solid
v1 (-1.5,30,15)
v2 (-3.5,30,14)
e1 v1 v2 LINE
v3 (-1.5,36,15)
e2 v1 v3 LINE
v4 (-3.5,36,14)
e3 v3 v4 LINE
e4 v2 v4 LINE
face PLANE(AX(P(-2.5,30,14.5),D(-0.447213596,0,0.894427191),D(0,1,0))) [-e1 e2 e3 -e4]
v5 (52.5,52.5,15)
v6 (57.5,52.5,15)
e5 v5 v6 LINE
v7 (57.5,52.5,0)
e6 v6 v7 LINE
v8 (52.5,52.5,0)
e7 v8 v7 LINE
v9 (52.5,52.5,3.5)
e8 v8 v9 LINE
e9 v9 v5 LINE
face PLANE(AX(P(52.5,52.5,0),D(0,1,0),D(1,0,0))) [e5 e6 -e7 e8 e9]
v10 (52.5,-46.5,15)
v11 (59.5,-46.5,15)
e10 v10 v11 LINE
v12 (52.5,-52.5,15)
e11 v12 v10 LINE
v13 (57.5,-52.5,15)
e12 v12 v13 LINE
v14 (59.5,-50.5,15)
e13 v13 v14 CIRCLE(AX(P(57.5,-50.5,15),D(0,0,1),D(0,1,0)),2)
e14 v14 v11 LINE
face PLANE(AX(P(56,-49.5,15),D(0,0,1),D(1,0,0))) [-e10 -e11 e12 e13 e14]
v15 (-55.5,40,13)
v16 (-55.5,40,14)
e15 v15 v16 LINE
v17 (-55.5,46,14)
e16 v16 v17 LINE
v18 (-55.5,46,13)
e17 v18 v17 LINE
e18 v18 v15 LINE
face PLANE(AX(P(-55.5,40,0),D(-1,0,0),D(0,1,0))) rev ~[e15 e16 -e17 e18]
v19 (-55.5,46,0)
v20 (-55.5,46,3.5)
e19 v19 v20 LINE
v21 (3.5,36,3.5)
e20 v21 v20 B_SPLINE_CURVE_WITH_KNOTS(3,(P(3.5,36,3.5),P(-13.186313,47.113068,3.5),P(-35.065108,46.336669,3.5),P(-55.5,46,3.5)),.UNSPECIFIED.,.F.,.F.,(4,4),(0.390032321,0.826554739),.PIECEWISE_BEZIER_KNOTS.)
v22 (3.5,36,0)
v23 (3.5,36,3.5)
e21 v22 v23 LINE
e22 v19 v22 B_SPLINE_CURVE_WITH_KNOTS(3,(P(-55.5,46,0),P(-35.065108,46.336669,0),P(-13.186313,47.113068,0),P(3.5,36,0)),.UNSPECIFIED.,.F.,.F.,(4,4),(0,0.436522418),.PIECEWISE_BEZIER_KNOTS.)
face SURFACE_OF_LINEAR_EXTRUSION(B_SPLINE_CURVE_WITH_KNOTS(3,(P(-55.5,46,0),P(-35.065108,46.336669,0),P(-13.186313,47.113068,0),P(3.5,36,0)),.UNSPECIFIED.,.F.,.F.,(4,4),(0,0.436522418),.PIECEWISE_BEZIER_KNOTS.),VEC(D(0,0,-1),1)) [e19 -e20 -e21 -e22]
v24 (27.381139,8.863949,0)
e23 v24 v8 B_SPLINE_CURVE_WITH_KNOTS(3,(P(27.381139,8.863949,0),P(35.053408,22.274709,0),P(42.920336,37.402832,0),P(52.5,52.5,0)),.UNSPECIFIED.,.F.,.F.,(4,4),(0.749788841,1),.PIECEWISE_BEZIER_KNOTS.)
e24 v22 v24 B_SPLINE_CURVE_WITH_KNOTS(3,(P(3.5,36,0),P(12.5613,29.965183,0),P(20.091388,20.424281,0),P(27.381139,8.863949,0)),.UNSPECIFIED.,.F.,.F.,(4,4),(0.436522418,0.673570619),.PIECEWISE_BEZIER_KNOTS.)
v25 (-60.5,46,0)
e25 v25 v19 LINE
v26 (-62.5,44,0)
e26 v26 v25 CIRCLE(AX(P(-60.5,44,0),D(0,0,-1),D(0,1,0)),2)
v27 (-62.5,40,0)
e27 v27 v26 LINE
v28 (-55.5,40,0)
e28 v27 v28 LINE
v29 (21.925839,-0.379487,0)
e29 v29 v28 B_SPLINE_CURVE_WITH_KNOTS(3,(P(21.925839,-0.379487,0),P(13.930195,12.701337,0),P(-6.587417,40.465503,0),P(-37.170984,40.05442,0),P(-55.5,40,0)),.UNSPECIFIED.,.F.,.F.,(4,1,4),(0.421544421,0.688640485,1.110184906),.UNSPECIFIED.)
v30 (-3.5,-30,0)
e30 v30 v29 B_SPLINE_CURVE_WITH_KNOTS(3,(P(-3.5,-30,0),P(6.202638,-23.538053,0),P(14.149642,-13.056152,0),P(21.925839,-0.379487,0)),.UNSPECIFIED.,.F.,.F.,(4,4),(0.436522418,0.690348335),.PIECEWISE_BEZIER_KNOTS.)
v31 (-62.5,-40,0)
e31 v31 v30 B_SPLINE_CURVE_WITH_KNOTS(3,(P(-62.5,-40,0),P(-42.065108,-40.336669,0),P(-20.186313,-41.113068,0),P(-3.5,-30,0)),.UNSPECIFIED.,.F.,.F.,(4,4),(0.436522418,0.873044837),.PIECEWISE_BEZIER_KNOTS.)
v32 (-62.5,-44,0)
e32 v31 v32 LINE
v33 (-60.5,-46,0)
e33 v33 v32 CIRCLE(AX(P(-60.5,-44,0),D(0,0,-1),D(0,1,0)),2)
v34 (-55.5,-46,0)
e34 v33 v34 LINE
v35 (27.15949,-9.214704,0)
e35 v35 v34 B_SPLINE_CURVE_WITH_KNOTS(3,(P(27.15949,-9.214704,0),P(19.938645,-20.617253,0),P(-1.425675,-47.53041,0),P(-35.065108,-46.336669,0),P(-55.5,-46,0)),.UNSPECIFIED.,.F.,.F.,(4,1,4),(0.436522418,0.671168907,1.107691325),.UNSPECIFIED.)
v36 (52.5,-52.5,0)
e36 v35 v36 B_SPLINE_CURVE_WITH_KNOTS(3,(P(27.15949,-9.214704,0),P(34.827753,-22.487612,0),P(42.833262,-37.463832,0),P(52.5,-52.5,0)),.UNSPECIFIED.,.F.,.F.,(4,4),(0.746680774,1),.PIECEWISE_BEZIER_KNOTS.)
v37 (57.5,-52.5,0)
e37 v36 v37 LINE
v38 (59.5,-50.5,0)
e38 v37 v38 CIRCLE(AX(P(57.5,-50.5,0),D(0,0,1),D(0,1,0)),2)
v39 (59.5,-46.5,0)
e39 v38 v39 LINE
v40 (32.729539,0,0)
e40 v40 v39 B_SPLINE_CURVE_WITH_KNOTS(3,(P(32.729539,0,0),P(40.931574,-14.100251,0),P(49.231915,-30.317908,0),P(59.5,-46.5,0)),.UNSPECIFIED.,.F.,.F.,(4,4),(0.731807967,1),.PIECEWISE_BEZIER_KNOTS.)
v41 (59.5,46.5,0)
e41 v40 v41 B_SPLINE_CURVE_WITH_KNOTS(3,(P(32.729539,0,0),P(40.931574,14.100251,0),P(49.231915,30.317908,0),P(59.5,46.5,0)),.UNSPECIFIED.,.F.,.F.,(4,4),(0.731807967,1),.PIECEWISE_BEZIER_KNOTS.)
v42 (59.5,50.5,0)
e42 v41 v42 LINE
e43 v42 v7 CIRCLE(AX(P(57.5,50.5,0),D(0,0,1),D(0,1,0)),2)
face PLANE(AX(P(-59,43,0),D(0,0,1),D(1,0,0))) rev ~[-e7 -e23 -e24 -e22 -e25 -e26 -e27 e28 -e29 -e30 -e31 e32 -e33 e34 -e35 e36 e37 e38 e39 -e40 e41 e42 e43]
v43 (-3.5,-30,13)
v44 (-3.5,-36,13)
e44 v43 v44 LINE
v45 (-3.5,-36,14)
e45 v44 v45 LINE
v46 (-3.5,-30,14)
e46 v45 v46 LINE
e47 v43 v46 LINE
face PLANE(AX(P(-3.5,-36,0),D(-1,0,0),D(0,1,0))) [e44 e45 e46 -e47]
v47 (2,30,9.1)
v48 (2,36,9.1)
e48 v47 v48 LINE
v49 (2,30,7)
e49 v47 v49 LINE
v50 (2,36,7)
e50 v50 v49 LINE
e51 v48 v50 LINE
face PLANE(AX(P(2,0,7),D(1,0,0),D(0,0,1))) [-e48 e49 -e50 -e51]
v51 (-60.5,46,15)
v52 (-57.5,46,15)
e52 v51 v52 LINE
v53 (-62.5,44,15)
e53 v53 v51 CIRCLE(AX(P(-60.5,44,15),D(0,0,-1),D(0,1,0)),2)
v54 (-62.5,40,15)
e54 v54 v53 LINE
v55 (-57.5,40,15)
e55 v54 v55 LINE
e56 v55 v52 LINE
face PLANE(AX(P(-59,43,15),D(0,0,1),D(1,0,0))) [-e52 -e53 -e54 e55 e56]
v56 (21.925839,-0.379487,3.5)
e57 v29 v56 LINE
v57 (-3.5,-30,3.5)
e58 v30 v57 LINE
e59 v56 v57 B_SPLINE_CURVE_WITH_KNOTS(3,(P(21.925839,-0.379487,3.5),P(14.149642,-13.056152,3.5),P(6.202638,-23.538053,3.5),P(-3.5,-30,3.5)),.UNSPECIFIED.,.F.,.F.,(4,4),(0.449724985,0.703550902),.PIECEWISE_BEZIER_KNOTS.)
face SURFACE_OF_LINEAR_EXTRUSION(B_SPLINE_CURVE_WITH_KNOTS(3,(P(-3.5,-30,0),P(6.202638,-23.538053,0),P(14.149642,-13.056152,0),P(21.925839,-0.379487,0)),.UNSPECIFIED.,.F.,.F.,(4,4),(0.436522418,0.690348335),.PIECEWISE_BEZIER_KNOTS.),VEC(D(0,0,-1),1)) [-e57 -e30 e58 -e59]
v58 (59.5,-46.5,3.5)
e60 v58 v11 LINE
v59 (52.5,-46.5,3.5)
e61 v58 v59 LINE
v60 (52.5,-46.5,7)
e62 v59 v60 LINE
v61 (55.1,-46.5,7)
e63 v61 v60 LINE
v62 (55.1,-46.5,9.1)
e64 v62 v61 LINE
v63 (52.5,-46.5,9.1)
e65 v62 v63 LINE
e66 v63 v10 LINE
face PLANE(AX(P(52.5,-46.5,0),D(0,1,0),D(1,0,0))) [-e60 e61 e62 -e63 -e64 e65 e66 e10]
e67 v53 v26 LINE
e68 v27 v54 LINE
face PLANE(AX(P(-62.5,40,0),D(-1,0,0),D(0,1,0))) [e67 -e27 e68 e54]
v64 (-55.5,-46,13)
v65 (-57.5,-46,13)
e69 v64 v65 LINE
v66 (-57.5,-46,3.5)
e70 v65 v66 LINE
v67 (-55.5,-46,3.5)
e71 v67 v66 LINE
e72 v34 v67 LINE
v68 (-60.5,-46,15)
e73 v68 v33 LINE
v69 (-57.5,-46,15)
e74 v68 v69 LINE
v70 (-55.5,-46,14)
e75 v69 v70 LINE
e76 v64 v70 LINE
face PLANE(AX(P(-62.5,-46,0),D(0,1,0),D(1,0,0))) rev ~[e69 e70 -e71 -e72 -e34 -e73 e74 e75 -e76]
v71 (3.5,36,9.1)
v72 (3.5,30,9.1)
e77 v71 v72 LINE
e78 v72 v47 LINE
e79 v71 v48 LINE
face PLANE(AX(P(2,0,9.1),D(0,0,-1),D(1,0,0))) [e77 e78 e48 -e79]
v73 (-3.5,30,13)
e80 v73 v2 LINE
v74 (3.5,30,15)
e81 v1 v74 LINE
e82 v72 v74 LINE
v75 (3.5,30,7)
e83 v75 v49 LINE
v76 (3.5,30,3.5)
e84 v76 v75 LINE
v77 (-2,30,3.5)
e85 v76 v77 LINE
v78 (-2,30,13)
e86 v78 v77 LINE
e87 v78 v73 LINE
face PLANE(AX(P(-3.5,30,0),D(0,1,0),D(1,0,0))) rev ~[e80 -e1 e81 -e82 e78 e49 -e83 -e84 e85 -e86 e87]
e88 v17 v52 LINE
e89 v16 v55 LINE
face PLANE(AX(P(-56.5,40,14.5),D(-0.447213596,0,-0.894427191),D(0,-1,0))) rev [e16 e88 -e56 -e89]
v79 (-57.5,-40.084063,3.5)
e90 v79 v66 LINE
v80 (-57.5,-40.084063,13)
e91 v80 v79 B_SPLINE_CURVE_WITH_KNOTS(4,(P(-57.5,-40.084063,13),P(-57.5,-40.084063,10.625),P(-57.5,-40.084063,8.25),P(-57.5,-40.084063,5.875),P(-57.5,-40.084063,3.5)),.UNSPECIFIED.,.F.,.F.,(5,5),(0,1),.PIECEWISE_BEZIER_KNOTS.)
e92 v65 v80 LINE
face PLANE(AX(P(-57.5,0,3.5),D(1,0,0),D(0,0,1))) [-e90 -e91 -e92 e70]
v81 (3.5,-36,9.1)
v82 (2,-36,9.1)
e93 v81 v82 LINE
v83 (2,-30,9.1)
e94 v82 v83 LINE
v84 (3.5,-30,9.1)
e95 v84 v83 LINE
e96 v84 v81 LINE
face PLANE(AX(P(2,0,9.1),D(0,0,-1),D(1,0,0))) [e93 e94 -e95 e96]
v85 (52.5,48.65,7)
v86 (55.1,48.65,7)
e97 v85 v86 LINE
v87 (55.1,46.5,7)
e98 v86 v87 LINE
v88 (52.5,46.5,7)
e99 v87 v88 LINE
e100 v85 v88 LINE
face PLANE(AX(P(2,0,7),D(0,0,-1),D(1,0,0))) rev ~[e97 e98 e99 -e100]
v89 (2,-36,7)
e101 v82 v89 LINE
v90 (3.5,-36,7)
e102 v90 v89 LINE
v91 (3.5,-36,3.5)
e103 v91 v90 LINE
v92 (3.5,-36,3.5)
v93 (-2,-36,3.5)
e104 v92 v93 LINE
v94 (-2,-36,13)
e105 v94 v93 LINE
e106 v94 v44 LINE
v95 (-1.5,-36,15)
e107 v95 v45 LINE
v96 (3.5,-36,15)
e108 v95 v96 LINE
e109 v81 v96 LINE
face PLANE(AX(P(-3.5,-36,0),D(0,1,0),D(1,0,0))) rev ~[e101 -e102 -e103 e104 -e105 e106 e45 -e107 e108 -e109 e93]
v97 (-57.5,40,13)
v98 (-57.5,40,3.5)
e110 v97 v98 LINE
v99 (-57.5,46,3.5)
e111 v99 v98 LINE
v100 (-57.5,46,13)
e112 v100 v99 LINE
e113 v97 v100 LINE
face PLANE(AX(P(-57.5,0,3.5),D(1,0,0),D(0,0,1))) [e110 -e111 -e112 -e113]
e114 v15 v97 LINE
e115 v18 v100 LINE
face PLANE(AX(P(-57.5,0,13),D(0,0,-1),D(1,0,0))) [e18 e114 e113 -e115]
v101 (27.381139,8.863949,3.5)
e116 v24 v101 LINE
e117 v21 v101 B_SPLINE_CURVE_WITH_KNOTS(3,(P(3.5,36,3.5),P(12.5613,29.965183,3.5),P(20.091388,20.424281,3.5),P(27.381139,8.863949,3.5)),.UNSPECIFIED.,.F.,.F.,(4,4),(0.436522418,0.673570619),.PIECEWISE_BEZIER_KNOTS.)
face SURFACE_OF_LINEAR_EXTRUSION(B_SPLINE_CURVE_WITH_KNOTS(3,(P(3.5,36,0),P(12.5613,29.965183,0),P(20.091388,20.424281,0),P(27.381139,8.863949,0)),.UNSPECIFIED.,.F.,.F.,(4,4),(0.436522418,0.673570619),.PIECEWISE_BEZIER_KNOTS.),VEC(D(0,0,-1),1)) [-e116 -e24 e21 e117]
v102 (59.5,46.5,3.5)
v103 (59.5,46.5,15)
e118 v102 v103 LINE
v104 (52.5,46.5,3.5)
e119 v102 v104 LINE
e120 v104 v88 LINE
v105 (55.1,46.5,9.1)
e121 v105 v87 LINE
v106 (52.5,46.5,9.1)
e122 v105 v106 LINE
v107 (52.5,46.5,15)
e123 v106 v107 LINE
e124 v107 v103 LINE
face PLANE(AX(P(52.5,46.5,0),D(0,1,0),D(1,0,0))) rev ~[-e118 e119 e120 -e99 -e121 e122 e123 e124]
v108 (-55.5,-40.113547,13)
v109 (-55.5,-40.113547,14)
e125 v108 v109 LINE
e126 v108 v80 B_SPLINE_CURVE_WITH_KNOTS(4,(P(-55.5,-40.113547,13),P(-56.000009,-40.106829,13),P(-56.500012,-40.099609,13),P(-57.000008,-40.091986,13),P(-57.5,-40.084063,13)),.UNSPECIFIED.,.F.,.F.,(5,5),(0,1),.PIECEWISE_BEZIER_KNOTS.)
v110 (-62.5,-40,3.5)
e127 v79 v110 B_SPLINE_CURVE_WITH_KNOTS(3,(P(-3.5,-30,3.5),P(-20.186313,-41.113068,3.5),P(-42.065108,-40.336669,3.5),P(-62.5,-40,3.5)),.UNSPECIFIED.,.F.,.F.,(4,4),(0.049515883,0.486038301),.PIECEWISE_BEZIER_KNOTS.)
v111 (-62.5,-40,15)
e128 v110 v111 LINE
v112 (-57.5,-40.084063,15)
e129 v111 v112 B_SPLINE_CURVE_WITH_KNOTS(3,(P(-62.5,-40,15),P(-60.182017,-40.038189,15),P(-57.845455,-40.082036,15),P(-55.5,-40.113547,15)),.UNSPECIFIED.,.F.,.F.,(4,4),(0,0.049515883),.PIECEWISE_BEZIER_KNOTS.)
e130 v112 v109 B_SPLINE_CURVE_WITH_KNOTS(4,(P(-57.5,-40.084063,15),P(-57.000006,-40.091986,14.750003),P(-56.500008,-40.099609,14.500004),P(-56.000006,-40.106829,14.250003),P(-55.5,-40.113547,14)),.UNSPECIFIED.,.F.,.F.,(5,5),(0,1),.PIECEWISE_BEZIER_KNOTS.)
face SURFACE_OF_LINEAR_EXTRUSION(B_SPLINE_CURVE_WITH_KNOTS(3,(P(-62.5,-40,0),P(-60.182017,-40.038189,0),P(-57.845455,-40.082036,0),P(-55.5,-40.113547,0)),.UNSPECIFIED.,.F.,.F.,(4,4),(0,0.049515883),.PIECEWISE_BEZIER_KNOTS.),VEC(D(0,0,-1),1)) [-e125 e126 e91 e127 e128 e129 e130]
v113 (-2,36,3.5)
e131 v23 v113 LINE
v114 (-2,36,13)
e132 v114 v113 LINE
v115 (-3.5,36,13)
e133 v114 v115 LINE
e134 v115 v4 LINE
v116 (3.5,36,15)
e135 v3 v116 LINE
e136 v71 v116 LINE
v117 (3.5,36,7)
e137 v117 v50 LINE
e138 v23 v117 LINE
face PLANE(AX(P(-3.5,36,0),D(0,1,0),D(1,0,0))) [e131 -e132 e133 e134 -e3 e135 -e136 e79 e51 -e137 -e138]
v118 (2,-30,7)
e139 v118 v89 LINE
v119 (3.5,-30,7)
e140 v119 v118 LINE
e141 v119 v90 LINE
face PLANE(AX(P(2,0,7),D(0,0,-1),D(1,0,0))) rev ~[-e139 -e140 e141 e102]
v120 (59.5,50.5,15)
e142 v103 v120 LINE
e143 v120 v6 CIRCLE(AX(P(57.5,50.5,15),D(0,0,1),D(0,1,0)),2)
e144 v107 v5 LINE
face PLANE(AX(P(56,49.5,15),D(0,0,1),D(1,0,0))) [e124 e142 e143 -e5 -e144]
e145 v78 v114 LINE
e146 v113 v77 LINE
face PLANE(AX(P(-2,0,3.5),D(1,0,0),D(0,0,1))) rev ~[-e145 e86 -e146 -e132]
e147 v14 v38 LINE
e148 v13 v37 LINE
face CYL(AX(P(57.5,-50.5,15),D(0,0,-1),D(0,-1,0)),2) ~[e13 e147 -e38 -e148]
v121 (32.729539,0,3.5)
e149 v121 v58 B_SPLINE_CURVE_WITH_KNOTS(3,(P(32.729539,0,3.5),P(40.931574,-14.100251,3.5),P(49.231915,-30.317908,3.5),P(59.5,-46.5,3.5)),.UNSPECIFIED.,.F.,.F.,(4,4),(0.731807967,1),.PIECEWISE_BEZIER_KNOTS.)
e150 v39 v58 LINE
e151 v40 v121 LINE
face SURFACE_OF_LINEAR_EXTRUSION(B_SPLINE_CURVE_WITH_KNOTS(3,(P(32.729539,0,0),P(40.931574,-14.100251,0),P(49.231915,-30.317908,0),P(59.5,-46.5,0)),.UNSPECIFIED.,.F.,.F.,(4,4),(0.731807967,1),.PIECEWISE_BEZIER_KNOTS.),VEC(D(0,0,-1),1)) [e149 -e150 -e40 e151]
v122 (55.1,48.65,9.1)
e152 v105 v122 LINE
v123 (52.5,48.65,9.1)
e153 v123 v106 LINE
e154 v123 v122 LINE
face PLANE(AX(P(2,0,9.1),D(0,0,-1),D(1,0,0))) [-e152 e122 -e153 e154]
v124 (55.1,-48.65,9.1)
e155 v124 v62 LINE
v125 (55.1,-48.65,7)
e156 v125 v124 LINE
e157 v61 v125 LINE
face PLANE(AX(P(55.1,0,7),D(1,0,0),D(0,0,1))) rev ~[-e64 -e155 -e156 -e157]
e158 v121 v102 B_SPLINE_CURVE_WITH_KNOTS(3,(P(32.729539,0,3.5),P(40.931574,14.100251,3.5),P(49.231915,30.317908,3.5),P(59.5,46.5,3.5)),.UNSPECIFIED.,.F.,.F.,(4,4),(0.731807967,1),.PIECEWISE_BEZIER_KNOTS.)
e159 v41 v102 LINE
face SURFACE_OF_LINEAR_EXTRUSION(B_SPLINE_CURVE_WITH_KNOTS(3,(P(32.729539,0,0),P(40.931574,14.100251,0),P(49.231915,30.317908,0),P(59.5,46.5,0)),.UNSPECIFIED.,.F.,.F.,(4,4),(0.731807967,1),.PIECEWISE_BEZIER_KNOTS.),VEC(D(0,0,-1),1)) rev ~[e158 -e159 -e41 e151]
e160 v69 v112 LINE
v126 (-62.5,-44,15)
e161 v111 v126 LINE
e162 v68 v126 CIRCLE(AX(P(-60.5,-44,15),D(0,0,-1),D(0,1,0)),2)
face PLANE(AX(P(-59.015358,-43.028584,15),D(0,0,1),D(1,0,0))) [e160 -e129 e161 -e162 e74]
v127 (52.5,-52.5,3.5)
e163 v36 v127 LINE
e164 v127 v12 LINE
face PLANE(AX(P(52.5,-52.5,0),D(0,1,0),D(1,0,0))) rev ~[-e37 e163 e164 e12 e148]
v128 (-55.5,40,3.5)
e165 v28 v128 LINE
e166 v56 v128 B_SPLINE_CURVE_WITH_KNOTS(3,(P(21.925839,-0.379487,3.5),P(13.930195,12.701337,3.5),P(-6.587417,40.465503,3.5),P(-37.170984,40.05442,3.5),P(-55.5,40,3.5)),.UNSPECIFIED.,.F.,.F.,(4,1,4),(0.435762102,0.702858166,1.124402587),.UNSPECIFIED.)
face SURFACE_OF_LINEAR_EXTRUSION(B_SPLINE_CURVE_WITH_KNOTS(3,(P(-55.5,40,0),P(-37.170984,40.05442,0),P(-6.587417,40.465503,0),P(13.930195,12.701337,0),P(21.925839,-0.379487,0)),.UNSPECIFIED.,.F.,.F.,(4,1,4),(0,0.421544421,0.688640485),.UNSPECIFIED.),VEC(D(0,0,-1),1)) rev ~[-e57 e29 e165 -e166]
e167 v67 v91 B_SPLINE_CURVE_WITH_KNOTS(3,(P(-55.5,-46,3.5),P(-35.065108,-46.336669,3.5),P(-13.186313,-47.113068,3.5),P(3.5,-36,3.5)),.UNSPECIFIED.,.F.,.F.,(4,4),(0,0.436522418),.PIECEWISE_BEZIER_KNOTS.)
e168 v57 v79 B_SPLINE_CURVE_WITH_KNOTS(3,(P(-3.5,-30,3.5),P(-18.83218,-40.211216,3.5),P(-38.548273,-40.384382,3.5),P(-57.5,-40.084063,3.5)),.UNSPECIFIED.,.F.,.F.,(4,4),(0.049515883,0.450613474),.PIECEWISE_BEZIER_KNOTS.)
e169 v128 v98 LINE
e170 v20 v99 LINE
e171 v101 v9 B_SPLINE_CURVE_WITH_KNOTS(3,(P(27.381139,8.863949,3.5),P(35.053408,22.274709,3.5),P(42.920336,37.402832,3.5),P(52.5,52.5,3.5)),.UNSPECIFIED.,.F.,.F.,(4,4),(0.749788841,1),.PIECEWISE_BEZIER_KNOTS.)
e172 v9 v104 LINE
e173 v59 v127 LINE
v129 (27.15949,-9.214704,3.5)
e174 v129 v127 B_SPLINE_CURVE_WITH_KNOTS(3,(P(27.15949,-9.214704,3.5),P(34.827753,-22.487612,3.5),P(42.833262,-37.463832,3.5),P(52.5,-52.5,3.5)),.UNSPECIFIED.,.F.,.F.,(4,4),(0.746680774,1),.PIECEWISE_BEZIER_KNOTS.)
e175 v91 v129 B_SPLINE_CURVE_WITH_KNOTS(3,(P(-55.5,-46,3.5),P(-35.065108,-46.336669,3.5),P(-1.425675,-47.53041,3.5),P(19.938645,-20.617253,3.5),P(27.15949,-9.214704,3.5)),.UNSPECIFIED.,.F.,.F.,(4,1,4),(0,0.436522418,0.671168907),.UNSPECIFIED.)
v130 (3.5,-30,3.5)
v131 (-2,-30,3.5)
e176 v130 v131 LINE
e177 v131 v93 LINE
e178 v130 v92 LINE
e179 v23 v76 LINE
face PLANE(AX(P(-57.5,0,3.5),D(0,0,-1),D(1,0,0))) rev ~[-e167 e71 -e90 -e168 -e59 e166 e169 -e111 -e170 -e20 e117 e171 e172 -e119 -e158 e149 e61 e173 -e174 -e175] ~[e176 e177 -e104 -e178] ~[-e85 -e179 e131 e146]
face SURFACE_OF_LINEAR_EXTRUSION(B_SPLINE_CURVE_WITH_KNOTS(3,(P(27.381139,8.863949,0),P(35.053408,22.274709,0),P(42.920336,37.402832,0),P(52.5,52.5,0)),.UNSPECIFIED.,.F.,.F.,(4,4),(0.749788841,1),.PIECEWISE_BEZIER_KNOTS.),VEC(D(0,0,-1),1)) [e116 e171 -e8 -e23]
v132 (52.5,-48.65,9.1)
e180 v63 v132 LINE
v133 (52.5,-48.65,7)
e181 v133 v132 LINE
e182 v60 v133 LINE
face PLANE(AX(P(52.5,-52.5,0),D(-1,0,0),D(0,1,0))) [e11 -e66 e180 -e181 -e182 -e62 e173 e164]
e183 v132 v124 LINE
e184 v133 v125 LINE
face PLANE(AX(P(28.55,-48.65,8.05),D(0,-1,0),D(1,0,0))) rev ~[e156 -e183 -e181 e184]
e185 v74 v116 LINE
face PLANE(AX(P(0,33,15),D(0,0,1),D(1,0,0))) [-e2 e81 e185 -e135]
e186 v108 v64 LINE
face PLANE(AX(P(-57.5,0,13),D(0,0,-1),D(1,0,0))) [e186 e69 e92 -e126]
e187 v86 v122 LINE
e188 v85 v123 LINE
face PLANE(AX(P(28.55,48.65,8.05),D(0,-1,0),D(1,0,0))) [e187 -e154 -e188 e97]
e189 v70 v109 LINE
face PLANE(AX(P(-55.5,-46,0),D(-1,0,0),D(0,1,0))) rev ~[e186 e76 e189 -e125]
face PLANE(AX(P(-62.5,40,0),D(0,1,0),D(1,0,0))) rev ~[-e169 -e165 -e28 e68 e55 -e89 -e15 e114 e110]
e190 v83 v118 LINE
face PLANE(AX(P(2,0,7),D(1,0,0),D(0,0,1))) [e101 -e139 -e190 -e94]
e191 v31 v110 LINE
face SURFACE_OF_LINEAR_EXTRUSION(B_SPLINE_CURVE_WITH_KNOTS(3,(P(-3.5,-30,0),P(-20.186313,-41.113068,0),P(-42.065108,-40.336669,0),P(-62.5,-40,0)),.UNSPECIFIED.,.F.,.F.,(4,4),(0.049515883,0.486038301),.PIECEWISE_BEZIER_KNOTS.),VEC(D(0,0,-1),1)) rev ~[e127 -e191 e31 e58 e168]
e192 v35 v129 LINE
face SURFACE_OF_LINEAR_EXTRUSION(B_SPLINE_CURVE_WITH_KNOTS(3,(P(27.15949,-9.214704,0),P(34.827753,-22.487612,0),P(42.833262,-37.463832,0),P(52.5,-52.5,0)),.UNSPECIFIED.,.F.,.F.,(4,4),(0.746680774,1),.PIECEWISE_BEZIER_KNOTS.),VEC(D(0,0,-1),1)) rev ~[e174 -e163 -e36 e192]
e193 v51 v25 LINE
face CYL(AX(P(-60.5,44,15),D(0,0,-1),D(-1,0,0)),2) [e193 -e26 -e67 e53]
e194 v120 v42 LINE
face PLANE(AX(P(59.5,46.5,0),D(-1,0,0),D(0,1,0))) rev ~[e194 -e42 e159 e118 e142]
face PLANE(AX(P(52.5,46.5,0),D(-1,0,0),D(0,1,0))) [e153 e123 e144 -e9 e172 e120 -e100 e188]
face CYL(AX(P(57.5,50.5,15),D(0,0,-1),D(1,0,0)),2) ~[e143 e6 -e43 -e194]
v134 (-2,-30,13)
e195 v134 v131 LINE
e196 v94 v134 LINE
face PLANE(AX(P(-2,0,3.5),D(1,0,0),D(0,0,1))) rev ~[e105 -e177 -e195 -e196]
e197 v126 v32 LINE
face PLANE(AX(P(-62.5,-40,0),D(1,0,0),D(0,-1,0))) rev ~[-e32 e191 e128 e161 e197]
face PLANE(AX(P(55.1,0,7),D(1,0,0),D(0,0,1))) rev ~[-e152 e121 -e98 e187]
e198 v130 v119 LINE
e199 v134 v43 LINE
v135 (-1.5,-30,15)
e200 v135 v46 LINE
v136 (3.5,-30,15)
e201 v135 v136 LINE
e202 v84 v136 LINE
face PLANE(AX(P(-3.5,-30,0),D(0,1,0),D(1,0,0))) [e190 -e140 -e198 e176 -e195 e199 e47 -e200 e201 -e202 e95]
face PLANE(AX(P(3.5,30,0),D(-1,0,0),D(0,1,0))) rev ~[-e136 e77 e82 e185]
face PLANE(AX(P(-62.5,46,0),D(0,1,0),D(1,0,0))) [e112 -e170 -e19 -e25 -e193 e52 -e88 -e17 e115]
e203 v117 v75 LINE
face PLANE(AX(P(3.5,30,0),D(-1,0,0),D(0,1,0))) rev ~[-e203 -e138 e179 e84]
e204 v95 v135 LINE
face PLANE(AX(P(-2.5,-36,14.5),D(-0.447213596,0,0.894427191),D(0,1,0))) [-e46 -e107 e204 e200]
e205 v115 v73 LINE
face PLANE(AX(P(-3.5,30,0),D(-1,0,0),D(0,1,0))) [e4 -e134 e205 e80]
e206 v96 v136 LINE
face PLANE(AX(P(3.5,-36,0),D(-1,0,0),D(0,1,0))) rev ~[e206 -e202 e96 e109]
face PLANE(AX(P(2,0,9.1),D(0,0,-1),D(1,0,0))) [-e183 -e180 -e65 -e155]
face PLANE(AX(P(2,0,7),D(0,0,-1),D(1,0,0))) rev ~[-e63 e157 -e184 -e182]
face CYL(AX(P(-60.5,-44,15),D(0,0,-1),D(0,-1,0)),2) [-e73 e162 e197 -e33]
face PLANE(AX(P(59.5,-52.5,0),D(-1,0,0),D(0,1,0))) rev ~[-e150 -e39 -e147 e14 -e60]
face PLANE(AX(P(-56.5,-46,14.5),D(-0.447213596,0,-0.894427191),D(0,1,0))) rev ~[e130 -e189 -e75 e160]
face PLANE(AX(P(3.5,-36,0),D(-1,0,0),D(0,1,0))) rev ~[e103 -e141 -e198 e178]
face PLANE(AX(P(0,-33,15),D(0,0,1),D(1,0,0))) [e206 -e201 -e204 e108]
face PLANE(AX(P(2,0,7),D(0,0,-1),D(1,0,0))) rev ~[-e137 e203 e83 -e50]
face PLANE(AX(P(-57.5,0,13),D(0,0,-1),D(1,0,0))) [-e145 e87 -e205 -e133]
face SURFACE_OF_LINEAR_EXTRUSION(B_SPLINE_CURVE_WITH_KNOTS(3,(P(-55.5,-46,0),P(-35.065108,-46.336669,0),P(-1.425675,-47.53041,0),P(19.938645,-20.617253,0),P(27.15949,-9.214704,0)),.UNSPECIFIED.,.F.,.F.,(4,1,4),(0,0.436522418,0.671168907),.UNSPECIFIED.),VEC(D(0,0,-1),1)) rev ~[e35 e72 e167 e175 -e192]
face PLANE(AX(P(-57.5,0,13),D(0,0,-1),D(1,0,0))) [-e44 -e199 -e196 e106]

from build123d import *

# Parameters (mm, degrees)
F0_W       = 7
F0_H       = 6
F1_DEPTH   = 3.5
F2_DEPTH   = 15
F3_W       = 55.5
F3_H       = 9.5
F4_DEPTH   = 100
F3_W_2     = 53.1
F3_H_2     = 2.1
F5_DEPTH   = 48.65
F6_SIZE2   = 1
F6_SIZE    = 2
F6_2_SIZE2 = 1
F6_2_SIZE  = 2
F6_3_SIZE2 = 1
F6_3_SIZE  = 2
F7_SIZE2   = 2
F7_SIZE    = 1
F8_R       = 2


with BuildPart() as f1:
    # F0 (on Top) → F1 (new body)
    with BuildSketch(Plane.XY):
        with Locations((-59, 43)):
            Rectangle(F0_W, F0_H)
        with BuildLine():
            add(Edge.make_bspline(
                [(-55.5, 46), (-35.0651084215, 46.3366690111), (-13.1863134629, 47.1130676767), (3.5, 36)],
                knots=[0, 0, 0, 0, 0.4365224183, 0.4365224183, 0.4365224183, 0.4365224183], degree=3))
            Line((-55.5, 46), (-55.5, 40))
            add(Edge.make_bspline(
                [(-55.5, 40), (-37.1709838309, 40.05441996), (-18.4495575403, 40.3060604222), (-3.5, 30)],
                knots=[0, 0, 0, 0, 0.4215444213, 0.4215444213, 0.4215444213, 0.4215444213], degree=3))
            Line((-3.5, 30), (-3.5, 36))
            Line((-3.5, 36), (3.5, 36))
        make_face()
        with Locations((0, 33)):
            Rectangle(F0_W, F0_H)
        with BuildLine():
            add(Edge.make_bspline(
                [(3.5, 36), (12.561299992, 29.9651834856), (20.0913884934, 20.4242808164), (27.3811387561, 8.8639486742)],
                knots=[0.4365224183, 0.4365224183, 0.4365224183, 0.4365224183, 0.6735706191, 0.6735706191, 0.6735706191, 0.6735706191], degree=3))
            Line((3.5, 36), (3.5, 30))
            Line((3.5, 30), (-3.5, 30))
            add(Edge.make_bspline(
                [(-3.5, 30), (5.9722353572, 23.4699452033), (13.930195357, 12.7013372284), (21.9258388158, -0.3794873482)],
                knots=[0.4215444213, 0.4215444213, 0.4215444213, 0.4215444213, 0.688640485, 0.688640485, 0.688640485, 0.688640485], degree=3))
            add(Edge.make_bspline(
                [(21.9258388158, -0.3794873482), (23.7468548988, 2.5891115783), (25.5585039934, 5.6780700829), (27.3811387561, 8.8639486742)],
                knots=[0.6903483348, 0.6903483348, 0.6903483348, 0.6903483348, 0.7497888406, 0.7497888406, 0.7497888406, 0.7497888406], degree=3))
        make_face()
        with BuildLine():
            add(Edge.make_bspline(
                [(27.3811387561, 8.8639486742), (29.1720644783, 6.0238381842), (30.9484840318, 3.0618403714), (32.7295390228, 0)],
                knots=[0.6735706191, 0.6735706191, 0.6735706191, 0.6735706191, 0.7318079668, 0.7318079668, 0.7318079668, 0.7318079668], degree=3))
            add(Edge.make_bspline(
                [(21.9258388158, -0.3794873482), (23.7468548988, 2.5891115783), (25.5585039934, 5.6780700829), (27.3811387561, 8.8639486742)],
                knots=[0.6903483348, 0.6903483348, 0.6903483348, 0.6903483348, 0.7497888406, 0.7497888406, 0.7497888406, 0.7497888406], degree=3))
            add(Edge.make_bspline(
                [(21.9258388158, -0.3794873482), (23.6633015374, -3.221965904), (25.4025436645, -6.1736268671), (27.1594897195, -9.2147042555)],
                knots=[0.688640485, 0.688640485, 0.688640485, 0.688640485, 0.7466807736, 0.7466807736, 0.7466807736, 0.7466807736], degree=3))
            add(Edge.make_bspline(
                [(27.1594897195, -9.2147042555), (29.0255530458, -6.267974343), (30.875033208, -3.1881108676), (32.7295390228, 0)],
                knots=[0.6711689071, 0.6711689071, 0.6711689071, 0.6711689071, 0.7318079668, 0.7318079668, 0.7318079668, 0.7318079668], degree=3))
        make_face()
        with BuildLine():
            add(Edge.make_bspline(
                [(27.3811387561, 8.8639486742), (35.0534078745, 22.2747089818), (42.9203361457, 37.4028324845), (52.5, 52.5)],
                knots=[0.7497888406, 0.7497888406, 0.7497888406, 0.7497888406, 1, 1, 1, 1], degree=3))
            add(Edge.make_bspline(
                [(27.3811387561, 8.8639486742), (29.1720644783, 6.0238381842), (30.9484840318, 3.0618403714), (32.7295390228, 0)],
                knots=[0.6735706191, 0.6735706191, 0.6735706191, 0.6735706191, 0.7318079668, 0.7318079668, 0.7318079668, 0.7318079668], degree=3))
            add(Edge.make_bspline(
                [(32.7295390228, 0), (40.9315739468, 14.1002505736), (49.2319147047, 30.3179077966), (59.5, 46.5)],
                knots=[0.7318079668, 0.7318079668, 0.7318079668, 0.7318079668, 1, 1, 1, 1], degree=3))
            Line((59.5, 46.5), (52.5, 46.5))
            Line((52.5, 46.5), (52.5, 52.5))
        make_face()
        with BuildLine():
            add(Edge.make_bspline(
                [(32.7295390228, 0), (40.9315739468, -14.1002505736), (49.2319147047, -30.3179077966), (59.5, -46.5)],
                knots=[0.7318079668, 0.7318079668, 0.7318079668, 0.7318079668, 1, 1, 1, 1], degree=3))
            add(Edge.make_bspline(
                [(27.1594897195, -9.2147042555), (29.0255530458, -6.267974343), (30.875033208, -3.1881108676), (32.7295390228, 0)],
                knots=[0.6711689071, 0.6711689071, 0.6711689071, 0.6711689071, 0.7318079668, 0.7318079668, 0.7318079668, 0.7318079668], degree=3))
            add(Edge.make_bspline(
                [(27.1594897195, -9.2147042555), (34.8277530321, -22.4876115835), (42.833262349, -37.4638320009), (52.5, -52.5)],
                knots=[0.7466807736, 0.7466807736, 0.7466807736, 0.7466807736, 1, 1, 1, 1], degree=3))
            Line((52.5, -52.5), (52.5, -46.5))
            Line((52.5, -46.5), (59.5, -46.5))
        make_face()
        with BuildLine():
            add(Edge.make_bspline(
                [(21.9258388158, -0.3794873482), (23.6633015374, -3.221965904), (25.4025436645, -6.1736268671), (27.1594897195, -9.2147042555)],
                knots=[0.688640485, 0.688640485, 0.688640485, 0.688640485, 0.7466807736, 0.7466807736, 0.7466807736, 0.7466807736], degree=3))
            add(Edge.make_bspline(
                [(-3.5, -30), (6.2026375516, -23.5380533277), (14.1496419293, -13.0561517363), (21.9258388158, -0.3794873482)],
                knots=[0.4365224183, 0.4365224183, 0.4365224183, 0.4365224183, 0.6903483348, 0.6903483348, 0.6903483348, 0.6903483348], degree=3))
            Line((-3.5, -30), (3.5, -30))
            Line((3.5, -30), (3.5, -36))
            add(Edge.make_bspline(
                [(3.5, -36), (12.4694932079, -30.0263267098), (19.9386454326, -20.6172529014), (27.1594897195, -9.2147042555)],
                knots=[0.4365224183, 0.4365224183, 0.4365224183, 0.4365224183, 0.6711689071, 0.6711689071, 0.6711689071, 0.6711689071], degree=3))
        make_face()
        with Locations((56, 49.5)):
            Rectangle(F0_W, F0_H)
        with Locations((56, -49.5)):
            Rectangle(F0_W, F0_H)
        with Locations((0, -33)):
            Rectangle(F0_W, F0_H)
        with BuildLine():
            Line((-3.5, -36), (-3.5, -30))
            add(Edge.make_bspline(
                [(-55.5, -40.1135468303), (-37.1683816557, -40.3598255975), (-18.293541152, -39.8524832562), (-3.5, -30)],
                knots=[0.0495158831, 0.0495158831, 0.0495158831, 0.0495158831, 0.4365224183, 0.4365224183, 0.4365224183, 0.4365224183], degree=3))
            Line((-55.5, -40.1135468303), (-55.5, -46))
            add(Edge.make_bspline(
                [(-55.5, -46), (-35.0651084215, -46.3366690111), (-13.1863134629, -47.1130676767), (3.5, -36)],
                knots=[0, 0, 0, 0, 0.4365224183, 0.4365224183, 0.4365224183, 0.4365224183], degree=3))
            Line((3.5, -36), (-3.5, -36))
        make_face()
        with BuildLine():
            Line((-55.5, -46), (-55.5, -40.1135468303))
            add(Edge.make_bspline(
                [(-62.5, -40), (-60.1820166395, -40.0381892491), (-57.8454546318, -40.0820364822), (-55.5, -40.1135468303)],
                knots=[0, 0, 0, 0, 0.0495158831, 0.0495158831, 0.0495158831, 0.0495158831], degree=3))
            Line((-62.5, -40), (-62.5, -46))
            Line((-62.5, -46), (-55.5, -46))
        make_face()
    extrude(amount=F1_DEPTH)

    # F0 (on Top) → F2 (join)
    with BuildSketch(Plane.XY):
        with Locations((-59, 43)):
            Rectangle(F0_W, F0_H)
        with Locations((0, 33)):
            Rectangle(F0_W, F0_H)
        with BuildLine():
            Line((-55.5, -46), (-55.5, -40.1135468303))
            add(Edge.make_bspline(
                [(-62.5, -40), (-60.1820166395, -40.0381892491), (-57.8454546318, -40.0820364822), (-55.5, -40.1135468303)],
                knots=[0, 0, 0, 0, 0.0495158831, 0.0495158831, 0.0495158831, 0.0495158831], degree=3))
            Line((-62.5, -40), (-62.5, -46))
            Line((-62.5, -46), (-55.5, -46))
        make_face()
        with Locations((0, -33)):
            Rectangle(F0_W, F0_H)
        with Locations((56, 49.5)):
            Rectangle(F0_W, F0_H)
        with Locations((56, -49.5)):
            Rectangle(F0_W, F0_H)
    extrude(amount=F2_DEPTH)

    # F3 (on Front) → F4 (cut, symmetric)
    with BuildSketch(Plane.XZ):
        with Locations((-29.75, 8.25)):
            Rectangle(F3_W, F3_H)
    extrude(amount=F4_DEPTH, both=True, mode=Mode.SUBTRACT)

    # F3 (on Front) → F5 (cut, symmetric)
    with BuildSketch(Plane.XZ):
        with Locations((28.55, 8.05)):
            Rectangle(F3_W_2, F3_H_2)
    extrude(amount=F5_DEPTH, both=True, mode=Mode.SUBTRACT)

    # F6
    f6_edges = [f1.edges().sort_by_distance(p)[0] for p in [
        (-3.5, 33, 15),
    ]]
    f6_side = f1.faces().sort_by_distance((0, 33, 15))[0]
    chamfer(f6_edges, length=F6_SIZE, length2=F6_SIZE2, reference=f6_side)

    # F6#2
    f6_2_edges = [f1.edges().sort_by_distance(p)[0] for p in [
        (-3.5, -33, 15),
    ]]
    f6_2_side = f1.faces().sort_by_distance((0, -33, 15))[0]
    chamfer(f6_2_edges, length=F6_2_SIZE, length2=F6_2_SIZE2, reference=f6_2_side)

    # F6#3
    f6_3_edges = [f1.edges().sort_by_distance(p)[0] for p in [
        (-55.5, -43.056773, 15),
    ]]
    f6_3_side = f1.faces().sort_by_distance((-59.011322, -43.029185, 15))[0]
    chamfer(f6_3_edges, length=F6_3_SIZE, length2=F6_3_SIZE2, reference=f6_3_side)

    # F7
    f7_edges = [f1.edges().sort_by_distance(p)[0] for p in [
        (-55.5, 43, 15),
    ]]
    f7_side = f1.faces().sort_by_distance((-55.5, 43, 14))[0]
    chamfer(f7_edges, length=F7_SIZE, length2=F7_SIZE2, reference=f7_side)

    # F8
    f8_edges = [f1.edges().sort_by_distance(p)[0] for p in [
        (59.5, 52.5, 7.5),
        (59.5, -52.5, 7.5),
        (-62.5, -46, 7.5),
        (-62.5, 46, 7.5),
    ]]
    fillet(f8_edges, radius=F8_R)


solid = f1.part
